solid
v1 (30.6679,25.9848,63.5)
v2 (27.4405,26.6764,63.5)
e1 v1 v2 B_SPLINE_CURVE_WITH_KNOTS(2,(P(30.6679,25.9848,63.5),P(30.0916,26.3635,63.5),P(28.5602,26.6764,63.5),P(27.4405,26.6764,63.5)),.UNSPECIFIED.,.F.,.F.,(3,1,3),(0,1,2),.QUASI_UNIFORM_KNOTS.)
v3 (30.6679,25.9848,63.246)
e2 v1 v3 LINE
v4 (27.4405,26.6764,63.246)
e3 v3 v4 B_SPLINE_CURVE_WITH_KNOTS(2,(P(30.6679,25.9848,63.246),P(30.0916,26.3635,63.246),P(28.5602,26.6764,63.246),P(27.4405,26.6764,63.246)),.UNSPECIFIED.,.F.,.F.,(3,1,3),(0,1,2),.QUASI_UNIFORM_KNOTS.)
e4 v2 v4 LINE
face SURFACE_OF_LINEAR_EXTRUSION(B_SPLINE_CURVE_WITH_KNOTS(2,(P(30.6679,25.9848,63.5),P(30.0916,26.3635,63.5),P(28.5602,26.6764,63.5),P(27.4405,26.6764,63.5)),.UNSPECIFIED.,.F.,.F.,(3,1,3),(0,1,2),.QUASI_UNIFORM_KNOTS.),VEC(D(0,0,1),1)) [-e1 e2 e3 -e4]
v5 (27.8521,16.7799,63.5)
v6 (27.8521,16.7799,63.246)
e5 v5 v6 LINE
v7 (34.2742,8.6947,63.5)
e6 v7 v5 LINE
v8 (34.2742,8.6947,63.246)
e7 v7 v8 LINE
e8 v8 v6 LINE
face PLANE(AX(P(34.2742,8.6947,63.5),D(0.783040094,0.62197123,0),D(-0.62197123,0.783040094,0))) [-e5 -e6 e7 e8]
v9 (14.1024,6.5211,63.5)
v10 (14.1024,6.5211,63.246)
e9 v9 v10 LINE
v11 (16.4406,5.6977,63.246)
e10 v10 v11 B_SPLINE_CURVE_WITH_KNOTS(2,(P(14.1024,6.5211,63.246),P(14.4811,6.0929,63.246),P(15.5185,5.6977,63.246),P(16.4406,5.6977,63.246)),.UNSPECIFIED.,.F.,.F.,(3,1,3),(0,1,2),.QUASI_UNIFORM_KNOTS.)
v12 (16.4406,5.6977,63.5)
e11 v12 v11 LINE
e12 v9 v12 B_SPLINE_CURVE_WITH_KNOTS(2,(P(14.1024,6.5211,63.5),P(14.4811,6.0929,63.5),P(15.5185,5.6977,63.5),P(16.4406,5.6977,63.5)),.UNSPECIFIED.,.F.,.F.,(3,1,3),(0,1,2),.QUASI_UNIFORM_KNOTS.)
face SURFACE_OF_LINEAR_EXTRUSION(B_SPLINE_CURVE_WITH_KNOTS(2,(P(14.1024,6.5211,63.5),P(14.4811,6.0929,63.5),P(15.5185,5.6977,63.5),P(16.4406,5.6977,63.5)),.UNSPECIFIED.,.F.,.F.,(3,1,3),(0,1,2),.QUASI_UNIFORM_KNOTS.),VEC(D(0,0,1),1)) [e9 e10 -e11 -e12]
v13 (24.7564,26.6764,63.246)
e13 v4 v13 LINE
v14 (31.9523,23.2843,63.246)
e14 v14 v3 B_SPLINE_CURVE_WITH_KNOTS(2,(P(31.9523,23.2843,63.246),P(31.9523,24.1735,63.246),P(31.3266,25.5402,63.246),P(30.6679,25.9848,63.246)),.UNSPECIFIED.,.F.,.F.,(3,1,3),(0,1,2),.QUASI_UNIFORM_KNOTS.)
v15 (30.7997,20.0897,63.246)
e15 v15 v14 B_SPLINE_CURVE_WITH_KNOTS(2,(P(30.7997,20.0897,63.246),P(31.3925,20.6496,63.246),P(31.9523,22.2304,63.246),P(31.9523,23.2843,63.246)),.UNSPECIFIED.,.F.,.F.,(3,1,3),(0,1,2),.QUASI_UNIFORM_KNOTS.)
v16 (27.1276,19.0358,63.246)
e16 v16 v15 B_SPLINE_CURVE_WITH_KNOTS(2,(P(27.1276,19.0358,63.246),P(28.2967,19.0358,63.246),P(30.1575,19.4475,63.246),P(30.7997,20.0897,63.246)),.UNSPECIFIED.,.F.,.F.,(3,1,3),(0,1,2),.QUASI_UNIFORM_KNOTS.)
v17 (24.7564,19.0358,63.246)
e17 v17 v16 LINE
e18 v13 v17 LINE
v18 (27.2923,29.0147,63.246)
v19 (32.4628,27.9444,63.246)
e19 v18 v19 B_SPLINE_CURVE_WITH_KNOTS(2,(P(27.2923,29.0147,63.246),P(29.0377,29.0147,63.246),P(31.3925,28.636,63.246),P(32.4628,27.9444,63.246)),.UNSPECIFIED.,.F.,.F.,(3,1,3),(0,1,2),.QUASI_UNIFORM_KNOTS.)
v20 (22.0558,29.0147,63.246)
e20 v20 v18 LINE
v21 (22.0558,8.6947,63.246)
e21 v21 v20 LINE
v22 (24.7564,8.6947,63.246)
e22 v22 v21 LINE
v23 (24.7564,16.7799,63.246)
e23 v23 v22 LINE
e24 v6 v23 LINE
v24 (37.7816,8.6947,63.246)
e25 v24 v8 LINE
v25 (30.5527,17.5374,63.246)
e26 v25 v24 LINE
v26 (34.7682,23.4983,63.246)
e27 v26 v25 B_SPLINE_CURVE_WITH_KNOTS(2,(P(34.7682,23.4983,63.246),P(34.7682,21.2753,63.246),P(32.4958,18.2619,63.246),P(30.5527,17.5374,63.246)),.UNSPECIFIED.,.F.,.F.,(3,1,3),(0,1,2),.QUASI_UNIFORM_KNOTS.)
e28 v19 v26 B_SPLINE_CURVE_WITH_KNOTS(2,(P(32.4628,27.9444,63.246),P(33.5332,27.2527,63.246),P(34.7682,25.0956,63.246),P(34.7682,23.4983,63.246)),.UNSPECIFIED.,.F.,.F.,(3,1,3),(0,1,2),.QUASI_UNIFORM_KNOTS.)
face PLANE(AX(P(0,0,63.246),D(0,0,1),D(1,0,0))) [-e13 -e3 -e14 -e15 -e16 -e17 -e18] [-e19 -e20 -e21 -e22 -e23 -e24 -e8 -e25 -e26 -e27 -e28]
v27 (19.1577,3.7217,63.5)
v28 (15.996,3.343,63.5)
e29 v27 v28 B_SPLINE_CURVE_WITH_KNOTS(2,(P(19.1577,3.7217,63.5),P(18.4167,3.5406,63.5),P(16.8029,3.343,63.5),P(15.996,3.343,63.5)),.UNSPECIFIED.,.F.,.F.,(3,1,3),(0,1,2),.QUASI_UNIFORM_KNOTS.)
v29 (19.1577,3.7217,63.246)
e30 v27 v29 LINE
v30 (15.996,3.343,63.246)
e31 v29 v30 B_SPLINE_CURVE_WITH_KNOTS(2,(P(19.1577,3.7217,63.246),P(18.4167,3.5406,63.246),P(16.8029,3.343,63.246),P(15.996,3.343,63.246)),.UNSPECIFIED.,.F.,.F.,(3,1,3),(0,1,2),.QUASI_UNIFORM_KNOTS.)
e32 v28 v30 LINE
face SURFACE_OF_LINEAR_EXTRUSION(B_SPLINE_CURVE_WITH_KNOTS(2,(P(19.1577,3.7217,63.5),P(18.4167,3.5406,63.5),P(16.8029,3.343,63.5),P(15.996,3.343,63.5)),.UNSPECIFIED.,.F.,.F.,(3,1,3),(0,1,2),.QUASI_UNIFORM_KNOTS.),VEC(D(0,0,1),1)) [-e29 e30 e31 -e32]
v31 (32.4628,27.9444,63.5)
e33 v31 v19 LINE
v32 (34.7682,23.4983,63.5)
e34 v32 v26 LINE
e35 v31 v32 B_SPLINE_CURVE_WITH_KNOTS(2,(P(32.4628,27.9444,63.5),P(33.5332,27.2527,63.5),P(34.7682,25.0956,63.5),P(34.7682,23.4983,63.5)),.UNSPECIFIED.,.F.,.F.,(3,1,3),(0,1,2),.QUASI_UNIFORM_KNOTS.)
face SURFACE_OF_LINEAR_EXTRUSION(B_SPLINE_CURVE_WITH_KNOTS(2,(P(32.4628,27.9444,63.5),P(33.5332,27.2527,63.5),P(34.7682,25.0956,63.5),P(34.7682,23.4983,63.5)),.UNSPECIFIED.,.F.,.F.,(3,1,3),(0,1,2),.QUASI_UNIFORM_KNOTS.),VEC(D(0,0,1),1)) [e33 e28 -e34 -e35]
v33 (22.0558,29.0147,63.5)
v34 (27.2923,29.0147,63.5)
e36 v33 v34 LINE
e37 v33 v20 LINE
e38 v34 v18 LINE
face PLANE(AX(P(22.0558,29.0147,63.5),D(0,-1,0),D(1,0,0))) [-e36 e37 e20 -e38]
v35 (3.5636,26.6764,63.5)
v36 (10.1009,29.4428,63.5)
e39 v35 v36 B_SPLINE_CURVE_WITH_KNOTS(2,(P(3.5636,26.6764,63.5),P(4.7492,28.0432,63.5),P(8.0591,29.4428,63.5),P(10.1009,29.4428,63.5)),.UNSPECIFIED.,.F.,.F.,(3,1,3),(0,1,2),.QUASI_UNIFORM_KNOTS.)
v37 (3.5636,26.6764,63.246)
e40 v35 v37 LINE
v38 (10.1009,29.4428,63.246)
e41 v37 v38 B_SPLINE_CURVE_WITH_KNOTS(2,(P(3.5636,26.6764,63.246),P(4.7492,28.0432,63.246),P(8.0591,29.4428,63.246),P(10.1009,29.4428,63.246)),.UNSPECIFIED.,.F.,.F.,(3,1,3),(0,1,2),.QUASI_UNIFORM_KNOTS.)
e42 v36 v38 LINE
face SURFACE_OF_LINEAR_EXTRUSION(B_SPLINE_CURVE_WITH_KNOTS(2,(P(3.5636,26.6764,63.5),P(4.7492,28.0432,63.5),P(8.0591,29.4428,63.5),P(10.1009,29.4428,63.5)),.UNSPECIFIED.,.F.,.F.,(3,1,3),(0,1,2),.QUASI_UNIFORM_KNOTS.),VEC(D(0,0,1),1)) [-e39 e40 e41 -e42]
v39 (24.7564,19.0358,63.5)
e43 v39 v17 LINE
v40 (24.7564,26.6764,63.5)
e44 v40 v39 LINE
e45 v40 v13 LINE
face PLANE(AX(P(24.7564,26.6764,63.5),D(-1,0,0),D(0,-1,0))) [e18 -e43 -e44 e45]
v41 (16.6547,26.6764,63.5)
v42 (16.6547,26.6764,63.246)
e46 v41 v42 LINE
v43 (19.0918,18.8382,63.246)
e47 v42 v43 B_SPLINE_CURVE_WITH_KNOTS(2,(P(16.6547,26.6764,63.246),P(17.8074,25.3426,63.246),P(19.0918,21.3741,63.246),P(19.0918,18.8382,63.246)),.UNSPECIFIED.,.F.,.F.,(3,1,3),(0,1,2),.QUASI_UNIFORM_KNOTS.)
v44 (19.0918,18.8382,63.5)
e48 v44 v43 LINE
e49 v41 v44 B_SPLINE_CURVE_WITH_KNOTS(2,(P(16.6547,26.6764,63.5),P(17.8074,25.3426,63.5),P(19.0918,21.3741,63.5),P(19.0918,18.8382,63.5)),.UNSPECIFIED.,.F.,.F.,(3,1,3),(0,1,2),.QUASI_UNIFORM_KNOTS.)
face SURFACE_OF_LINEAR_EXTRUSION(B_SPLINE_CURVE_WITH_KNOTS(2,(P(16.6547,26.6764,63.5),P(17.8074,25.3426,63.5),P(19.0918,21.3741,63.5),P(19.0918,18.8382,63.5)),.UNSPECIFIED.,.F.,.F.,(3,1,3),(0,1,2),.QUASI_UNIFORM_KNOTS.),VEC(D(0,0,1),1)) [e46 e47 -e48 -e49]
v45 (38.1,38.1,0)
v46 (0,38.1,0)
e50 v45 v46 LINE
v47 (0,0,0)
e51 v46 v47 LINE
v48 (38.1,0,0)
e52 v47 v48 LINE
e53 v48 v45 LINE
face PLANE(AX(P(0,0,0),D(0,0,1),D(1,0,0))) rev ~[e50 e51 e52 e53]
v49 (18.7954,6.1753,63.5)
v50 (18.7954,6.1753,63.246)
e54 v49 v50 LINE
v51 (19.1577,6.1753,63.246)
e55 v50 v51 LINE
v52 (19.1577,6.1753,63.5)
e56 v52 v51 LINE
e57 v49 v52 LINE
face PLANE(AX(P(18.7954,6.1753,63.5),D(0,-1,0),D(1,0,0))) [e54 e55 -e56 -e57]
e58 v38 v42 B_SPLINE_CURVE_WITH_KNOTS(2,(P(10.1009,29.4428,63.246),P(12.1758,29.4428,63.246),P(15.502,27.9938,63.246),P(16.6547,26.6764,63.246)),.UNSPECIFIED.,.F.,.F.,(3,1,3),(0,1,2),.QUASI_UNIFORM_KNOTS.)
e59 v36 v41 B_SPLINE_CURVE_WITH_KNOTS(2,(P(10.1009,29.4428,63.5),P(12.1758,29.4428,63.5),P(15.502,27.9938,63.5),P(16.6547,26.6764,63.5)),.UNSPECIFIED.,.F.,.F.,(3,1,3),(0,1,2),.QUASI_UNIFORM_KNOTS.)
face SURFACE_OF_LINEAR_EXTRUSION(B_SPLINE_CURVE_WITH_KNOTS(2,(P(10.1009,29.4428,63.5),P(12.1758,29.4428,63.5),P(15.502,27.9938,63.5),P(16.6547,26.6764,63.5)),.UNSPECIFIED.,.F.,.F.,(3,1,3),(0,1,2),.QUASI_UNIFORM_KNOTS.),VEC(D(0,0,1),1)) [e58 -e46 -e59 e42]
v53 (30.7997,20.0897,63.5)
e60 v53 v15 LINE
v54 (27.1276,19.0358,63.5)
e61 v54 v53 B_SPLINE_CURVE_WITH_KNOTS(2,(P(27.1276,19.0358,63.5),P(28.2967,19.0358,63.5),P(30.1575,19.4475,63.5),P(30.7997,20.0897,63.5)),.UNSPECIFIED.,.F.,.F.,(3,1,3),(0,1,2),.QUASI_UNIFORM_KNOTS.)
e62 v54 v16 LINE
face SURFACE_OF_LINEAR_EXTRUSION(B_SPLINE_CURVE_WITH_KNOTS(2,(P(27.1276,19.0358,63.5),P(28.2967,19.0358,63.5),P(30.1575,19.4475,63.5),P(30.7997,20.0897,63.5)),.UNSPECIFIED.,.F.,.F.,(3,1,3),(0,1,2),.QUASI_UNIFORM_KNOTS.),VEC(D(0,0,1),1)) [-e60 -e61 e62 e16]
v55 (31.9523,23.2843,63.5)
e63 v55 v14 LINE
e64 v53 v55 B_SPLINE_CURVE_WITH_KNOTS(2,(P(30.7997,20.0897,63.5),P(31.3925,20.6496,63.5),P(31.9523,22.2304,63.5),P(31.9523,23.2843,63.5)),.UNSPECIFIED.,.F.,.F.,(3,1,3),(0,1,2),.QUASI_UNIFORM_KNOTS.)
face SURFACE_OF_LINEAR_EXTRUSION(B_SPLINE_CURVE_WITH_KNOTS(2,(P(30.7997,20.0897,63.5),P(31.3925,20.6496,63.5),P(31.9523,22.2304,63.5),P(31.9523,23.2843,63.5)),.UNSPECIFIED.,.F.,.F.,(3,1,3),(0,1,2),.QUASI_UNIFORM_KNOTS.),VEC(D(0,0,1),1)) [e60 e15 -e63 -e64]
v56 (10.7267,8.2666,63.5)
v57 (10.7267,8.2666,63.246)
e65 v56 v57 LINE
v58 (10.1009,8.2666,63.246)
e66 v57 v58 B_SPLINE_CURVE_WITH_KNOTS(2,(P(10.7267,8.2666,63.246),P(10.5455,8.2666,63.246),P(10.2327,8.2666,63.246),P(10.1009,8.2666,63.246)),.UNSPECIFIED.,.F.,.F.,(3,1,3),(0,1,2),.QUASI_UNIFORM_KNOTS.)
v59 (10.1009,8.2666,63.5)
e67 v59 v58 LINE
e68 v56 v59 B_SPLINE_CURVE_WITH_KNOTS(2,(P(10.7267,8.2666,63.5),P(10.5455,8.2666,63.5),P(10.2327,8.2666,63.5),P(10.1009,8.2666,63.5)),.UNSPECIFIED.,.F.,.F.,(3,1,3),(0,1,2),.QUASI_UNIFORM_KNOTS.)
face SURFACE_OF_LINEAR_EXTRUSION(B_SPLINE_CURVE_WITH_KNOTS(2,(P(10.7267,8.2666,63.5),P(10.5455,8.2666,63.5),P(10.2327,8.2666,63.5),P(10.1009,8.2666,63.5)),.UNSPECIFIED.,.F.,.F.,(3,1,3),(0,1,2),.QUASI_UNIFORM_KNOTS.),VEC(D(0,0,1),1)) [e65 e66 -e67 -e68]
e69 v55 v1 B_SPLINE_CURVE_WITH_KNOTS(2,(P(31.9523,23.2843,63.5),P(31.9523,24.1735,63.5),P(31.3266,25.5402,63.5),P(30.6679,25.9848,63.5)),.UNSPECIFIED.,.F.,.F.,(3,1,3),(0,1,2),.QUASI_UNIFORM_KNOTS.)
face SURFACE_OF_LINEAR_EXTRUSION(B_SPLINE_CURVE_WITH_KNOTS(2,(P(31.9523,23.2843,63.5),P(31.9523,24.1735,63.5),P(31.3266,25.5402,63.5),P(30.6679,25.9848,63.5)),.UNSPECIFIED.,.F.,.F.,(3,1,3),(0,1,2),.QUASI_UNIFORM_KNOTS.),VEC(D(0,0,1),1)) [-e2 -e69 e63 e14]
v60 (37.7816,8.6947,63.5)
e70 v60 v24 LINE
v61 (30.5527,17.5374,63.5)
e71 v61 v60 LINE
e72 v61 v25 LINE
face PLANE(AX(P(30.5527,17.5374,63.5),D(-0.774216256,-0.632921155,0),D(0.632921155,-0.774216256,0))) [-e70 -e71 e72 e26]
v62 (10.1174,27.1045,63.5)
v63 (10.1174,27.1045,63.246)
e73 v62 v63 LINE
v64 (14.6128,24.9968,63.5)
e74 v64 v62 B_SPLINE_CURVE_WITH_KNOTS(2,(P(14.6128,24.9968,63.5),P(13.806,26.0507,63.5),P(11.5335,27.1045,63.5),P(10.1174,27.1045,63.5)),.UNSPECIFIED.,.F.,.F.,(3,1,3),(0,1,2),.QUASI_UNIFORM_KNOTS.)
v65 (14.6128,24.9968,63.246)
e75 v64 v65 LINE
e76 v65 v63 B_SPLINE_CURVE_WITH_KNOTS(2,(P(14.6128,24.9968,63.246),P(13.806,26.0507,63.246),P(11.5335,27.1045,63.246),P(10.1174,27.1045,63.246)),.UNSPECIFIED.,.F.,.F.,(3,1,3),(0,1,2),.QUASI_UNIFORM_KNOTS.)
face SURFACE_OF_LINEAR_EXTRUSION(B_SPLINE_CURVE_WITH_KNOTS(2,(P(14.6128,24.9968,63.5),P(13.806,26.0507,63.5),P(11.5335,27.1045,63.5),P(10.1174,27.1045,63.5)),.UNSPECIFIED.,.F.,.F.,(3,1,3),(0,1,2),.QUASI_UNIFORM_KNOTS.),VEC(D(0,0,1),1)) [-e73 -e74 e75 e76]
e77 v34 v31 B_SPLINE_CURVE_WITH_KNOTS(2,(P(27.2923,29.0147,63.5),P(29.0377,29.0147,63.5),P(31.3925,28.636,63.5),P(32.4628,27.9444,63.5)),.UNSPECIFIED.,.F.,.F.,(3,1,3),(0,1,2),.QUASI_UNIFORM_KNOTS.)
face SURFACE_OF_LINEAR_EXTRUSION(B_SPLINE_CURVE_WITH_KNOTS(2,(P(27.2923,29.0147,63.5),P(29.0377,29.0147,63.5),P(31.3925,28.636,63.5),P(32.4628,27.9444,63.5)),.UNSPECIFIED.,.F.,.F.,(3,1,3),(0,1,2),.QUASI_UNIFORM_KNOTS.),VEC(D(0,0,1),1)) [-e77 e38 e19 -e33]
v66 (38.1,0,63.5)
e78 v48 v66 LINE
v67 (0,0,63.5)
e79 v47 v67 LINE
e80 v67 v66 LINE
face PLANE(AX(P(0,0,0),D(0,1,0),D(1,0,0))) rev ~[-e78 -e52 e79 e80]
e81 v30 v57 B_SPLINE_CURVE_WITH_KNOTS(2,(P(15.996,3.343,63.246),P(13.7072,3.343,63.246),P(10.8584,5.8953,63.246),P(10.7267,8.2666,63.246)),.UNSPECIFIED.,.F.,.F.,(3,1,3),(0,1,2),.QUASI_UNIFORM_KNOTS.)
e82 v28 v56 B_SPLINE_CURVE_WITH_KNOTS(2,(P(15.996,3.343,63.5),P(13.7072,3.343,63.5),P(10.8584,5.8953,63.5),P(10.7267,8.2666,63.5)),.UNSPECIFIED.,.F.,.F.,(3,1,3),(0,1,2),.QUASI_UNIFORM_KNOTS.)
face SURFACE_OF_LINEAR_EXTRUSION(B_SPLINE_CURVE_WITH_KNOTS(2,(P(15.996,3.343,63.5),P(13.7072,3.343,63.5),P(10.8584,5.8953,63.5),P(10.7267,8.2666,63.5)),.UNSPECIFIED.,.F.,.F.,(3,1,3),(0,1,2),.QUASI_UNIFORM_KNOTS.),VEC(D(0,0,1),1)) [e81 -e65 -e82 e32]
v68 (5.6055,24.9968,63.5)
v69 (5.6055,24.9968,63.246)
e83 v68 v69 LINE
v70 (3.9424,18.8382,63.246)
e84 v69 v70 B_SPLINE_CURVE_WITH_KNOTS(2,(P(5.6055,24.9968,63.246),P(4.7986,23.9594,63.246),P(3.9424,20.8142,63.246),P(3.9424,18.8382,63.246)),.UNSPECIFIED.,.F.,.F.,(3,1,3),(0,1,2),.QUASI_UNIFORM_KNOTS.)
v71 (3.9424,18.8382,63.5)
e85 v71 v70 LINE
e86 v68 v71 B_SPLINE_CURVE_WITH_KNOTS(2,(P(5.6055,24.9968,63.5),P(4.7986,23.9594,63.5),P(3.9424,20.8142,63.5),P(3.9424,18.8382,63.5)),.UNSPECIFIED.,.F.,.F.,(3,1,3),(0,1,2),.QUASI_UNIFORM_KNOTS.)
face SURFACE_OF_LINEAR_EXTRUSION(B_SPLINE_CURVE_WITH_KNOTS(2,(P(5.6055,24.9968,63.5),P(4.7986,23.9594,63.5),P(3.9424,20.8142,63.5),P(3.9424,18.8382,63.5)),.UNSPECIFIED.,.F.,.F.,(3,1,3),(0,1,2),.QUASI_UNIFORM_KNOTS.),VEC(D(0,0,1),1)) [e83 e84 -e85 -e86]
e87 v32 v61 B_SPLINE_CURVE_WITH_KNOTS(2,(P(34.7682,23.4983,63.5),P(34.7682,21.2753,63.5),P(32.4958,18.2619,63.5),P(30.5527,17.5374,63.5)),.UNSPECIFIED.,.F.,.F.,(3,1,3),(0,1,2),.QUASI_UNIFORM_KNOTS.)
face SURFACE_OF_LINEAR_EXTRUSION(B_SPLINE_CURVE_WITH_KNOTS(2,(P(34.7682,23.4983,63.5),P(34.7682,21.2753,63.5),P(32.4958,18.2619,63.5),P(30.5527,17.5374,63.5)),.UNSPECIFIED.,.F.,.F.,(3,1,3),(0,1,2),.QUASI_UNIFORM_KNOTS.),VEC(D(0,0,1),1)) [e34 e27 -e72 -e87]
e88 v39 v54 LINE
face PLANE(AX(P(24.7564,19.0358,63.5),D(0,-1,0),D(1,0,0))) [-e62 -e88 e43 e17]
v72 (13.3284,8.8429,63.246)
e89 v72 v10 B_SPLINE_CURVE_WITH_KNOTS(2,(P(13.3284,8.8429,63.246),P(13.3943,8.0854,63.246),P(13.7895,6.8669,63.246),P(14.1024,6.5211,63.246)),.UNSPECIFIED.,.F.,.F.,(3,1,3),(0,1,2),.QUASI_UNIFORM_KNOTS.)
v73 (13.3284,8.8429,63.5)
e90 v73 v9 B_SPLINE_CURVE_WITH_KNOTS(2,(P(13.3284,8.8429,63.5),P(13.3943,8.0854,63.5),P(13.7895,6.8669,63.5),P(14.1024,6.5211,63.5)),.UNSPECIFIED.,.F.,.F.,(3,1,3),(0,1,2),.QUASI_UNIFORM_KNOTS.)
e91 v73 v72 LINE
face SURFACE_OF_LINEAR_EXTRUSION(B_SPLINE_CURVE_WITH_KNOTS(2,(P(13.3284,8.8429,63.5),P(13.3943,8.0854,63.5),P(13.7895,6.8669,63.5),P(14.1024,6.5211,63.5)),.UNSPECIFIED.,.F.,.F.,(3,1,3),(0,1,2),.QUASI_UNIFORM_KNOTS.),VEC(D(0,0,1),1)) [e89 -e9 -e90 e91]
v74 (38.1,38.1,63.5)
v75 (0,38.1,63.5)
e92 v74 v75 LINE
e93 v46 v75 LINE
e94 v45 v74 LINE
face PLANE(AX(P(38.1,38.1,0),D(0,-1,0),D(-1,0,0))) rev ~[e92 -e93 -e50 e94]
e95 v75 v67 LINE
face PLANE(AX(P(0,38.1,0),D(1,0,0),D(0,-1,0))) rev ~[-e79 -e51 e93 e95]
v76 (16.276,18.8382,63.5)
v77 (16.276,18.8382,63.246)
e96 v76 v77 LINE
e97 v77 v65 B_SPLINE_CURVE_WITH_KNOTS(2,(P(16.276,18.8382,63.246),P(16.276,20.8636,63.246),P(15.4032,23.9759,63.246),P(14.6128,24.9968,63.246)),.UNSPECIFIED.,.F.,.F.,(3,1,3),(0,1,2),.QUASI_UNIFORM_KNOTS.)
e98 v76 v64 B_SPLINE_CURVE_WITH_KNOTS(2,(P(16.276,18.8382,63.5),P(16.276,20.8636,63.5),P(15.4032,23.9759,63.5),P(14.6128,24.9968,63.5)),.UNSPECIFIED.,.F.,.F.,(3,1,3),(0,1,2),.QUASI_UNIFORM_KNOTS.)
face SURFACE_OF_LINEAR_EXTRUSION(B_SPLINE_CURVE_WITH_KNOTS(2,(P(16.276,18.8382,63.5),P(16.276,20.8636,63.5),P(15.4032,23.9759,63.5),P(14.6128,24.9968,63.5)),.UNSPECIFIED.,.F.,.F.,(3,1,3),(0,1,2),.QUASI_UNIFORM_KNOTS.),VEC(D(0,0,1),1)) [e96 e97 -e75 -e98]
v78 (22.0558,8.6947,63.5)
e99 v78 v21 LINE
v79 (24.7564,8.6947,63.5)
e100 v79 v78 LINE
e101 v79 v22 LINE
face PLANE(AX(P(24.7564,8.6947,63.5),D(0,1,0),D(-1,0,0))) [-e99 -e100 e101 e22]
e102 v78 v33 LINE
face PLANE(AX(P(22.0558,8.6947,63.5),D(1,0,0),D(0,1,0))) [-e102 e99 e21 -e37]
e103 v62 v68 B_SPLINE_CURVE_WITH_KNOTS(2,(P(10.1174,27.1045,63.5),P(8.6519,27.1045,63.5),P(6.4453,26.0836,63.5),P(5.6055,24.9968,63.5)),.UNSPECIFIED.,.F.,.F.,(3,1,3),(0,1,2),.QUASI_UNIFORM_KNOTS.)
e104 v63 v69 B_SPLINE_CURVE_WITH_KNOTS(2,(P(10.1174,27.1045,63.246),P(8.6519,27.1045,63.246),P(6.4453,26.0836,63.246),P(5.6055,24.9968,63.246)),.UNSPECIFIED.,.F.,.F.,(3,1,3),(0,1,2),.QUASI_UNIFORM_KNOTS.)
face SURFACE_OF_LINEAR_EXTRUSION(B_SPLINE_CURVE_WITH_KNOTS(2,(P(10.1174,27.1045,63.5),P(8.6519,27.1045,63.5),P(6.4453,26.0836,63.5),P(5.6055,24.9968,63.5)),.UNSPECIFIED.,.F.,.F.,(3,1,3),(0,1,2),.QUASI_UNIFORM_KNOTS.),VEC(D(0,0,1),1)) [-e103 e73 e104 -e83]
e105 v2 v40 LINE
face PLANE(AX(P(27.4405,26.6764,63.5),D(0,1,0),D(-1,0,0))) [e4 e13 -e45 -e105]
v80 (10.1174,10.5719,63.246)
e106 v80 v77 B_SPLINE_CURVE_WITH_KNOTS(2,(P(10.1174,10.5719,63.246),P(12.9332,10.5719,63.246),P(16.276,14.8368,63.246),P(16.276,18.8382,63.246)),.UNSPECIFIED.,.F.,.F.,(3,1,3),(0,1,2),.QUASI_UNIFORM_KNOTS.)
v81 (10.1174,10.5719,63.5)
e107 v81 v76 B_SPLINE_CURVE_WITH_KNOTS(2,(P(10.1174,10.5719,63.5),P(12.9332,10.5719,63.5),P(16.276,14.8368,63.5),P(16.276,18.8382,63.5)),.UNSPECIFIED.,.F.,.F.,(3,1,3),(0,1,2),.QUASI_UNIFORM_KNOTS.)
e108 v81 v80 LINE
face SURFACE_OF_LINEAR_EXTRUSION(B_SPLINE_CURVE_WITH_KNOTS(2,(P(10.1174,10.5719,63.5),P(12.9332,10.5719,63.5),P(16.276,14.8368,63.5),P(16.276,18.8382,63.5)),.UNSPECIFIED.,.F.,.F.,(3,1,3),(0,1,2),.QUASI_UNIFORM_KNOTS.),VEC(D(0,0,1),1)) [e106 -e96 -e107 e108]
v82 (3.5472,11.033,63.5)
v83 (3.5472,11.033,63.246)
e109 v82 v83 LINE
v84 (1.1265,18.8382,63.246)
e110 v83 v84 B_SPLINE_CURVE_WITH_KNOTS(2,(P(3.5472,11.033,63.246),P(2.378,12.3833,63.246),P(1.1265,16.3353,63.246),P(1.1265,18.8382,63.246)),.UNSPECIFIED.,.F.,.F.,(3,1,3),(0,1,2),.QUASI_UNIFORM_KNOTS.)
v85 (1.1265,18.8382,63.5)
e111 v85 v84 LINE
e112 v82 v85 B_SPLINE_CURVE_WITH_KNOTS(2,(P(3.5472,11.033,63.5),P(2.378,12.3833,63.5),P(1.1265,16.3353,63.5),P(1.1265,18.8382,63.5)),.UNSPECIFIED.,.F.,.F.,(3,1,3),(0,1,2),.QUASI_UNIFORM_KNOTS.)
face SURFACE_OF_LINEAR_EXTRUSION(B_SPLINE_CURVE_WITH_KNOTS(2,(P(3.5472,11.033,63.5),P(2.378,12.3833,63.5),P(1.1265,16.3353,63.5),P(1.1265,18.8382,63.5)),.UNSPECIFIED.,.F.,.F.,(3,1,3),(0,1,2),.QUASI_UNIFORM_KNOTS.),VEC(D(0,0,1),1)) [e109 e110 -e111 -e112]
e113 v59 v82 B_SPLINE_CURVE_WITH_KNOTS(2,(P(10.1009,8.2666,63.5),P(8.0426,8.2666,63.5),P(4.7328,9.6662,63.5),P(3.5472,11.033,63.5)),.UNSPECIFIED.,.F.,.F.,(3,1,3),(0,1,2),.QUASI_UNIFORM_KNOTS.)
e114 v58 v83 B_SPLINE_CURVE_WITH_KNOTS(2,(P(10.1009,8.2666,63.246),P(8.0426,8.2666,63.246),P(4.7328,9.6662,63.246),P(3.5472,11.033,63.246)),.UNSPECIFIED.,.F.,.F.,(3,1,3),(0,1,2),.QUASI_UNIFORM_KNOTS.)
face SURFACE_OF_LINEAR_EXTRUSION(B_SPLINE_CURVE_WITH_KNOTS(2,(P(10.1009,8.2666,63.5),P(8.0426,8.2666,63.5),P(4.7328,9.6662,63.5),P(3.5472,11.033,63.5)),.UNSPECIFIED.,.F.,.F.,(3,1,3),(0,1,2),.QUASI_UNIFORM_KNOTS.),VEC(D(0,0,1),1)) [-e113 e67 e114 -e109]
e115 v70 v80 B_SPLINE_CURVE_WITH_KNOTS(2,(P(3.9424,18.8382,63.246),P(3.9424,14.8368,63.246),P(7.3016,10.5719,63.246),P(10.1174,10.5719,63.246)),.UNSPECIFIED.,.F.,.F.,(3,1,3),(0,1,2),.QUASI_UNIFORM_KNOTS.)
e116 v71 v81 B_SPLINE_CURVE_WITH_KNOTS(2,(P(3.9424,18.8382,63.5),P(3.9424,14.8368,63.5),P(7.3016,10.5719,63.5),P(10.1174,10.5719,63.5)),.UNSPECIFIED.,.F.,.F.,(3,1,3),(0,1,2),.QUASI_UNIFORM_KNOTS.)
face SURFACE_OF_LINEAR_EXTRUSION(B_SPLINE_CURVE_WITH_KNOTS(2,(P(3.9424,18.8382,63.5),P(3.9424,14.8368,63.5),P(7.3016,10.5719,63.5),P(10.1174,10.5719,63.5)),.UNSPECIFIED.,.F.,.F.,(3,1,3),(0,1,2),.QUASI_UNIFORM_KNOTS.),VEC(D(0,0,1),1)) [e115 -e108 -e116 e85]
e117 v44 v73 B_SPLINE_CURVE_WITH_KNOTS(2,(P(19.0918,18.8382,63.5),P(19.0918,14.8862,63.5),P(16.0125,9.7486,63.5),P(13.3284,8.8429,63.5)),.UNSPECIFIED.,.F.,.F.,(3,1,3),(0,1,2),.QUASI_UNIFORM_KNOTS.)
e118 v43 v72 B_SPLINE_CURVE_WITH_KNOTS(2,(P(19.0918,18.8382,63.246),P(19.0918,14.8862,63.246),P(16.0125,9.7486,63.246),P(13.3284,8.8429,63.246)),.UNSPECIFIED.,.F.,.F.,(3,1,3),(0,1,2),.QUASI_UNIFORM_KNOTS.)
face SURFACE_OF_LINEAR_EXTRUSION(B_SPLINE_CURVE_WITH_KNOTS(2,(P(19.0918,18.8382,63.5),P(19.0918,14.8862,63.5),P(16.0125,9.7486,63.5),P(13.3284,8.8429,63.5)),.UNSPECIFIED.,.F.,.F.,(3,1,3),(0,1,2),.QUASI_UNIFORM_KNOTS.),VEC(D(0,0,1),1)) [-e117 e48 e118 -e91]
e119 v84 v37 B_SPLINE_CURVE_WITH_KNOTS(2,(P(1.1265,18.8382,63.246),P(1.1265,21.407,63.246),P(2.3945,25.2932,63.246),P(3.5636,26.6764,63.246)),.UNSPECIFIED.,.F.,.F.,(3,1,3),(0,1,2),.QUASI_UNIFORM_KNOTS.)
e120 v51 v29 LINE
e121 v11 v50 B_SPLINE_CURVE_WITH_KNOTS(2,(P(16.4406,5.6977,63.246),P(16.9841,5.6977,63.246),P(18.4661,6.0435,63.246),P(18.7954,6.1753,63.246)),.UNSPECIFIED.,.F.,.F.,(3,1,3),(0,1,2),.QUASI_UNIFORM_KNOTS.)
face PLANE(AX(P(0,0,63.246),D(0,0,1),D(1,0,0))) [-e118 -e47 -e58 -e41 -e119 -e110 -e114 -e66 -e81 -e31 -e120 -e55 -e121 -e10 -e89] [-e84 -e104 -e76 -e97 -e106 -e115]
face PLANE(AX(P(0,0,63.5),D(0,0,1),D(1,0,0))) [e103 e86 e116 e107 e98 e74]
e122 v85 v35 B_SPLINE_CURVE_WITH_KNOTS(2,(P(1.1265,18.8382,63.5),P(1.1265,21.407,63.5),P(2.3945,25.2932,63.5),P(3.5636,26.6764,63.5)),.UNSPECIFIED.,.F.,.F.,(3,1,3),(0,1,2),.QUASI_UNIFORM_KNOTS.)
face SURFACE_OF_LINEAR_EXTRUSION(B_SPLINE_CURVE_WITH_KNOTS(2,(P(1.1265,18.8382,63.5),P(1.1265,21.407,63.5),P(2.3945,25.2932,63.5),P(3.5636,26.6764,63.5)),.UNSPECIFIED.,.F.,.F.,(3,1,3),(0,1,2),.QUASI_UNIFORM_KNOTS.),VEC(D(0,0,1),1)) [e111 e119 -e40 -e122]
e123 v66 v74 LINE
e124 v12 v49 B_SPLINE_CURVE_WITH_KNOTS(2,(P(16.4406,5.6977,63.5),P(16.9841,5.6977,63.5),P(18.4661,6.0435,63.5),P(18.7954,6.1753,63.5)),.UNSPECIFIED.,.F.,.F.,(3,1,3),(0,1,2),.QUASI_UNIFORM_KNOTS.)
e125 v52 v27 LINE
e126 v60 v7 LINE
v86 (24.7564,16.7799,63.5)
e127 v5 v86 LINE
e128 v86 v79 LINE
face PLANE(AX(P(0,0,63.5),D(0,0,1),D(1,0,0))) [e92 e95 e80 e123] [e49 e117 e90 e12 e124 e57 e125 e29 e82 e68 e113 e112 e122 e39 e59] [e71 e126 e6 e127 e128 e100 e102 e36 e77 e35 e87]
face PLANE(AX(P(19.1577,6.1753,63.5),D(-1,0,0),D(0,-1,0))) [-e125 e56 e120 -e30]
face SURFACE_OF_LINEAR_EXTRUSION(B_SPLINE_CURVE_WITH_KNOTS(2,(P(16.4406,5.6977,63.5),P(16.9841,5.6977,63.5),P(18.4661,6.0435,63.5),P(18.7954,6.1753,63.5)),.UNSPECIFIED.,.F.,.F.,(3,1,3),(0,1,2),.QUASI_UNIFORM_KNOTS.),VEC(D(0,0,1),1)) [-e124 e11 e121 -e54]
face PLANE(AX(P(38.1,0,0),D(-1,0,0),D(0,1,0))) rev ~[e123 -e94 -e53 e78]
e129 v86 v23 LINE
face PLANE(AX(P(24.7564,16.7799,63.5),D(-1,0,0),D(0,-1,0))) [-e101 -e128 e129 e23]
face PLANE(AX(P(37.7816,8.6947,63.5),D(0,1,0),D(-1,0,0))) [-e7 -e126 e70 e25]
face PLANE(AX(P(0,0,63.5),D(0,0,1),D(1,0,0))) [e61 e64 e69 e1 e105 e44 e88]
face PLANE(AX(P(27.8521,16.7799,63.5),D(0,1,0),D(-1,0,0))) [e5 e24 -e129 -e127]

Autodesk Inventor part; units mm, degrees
ref_plane "YZ Plane" through (0, 0, 0) normal (1, 0, 0) x (0, 1, 0)
ref_plane "XZ Plane" through (0, 0, 0) normal (0, 1, 0) x (-1, 0, 0)
ref_plane "XY Plane" through (0, 0, 0) normal (0, 0, 1) x (1, 0, 0)
sketch "Sketch1" plane through (0, 0, 0) normal (0, 0, 1) x (1, 0, 0)
  line L0 (0, 0) -> (38.1, 0)
  line L1 (38.1, 0) -> (38.1, 38.1)
  line L2 (38.1, 38.1) -> (0, 38.1)
  line L3 (0, 38.1) -> (0, 0)
  dimension "d0" = 38.1
  dimension "d1" = 38.1
extrude "Extrusion1" add sketch "Sketch1" along normal blind 63.5
sketch "Sketch2" plane through (0, 0, 63.5) normal (0, 0, 1) x (1, 0, 0)
  line L0 (0.2209, 29.4428) -> (23.4184, 29.4428) construction
  line L1 (23.4184, 29.4428) -> (23.4184, 13.1304) construction
  line L2 (23.4184, 13.1304) -> (0.2209, 13.1304) construction
  line L3 (0.2209, 13.1304) -> (0.2209, 29.4428) construction
  spline S0 degree 2 poles (19.1577, 3.7217) (18.4167, 3.5406) (16.8029, 3.343) (15.996, 3.343) knots 0 0 0 1 2 2 2
  spline S1 degree 2 poles (15.996, 3.343) (13.7072, 3.343) (10.8584, 5.8953) (10.7267, 8.2666) knots 0 0 0 1 2 2 2
  spline S2 degree 2 poles (10.7267, 8.2666) (10.5455, 8.2666) (10.2327, 8.2666) (10.1009, 8.2666) knots 0 0 0 1 2 2 2
  spline S3 degree 2 poles (10.1009, 8.2666) (8.0426, 8.2666) (4.7328, 9.6662) (3.5472, 11.033) knots 0 0 0 1 2 2 2
  spline S4 degree 2 poles (3.5472, 11.033) (2.378, 12.3833) (1.1265, 16.3353) (1.1265, 18.8382) knots 0 0 0 1 2 2 2
  spline S5 degree 2 poles (1.1265, 18.8382) (1.1265, 21.407) (2.3945, 25.2932) (3.5636, 26.6764) knots 0 0 0 1 2 2 2
  spline S6 degree 2 poles (3.5636, 26.6764) (4.7492, 28.0432) (8.0591, 29.4428) (10.1009, 29.4428) knots 0 0 0 1 2 2 2
  spline S7 degree 2 poles (10.1009, 29.4428) (12.1758, 29.4428) (15.502, 27.9938) (16.6547, 26.6764) knots 0 0 0 1 2 2 2
  spline S8 degree 2 poles (16.6547, 26.6764) (17.8074, 25.3426) (19.0918, 21.3741) (19.0918, 18.8382) knots 0 0 0 1 2 2 2
  spline S9 degree 2 poles (19.0918, 18.8382) (19.0918, 14.8862) (16.0125, 9.7486) (13.3284, 8.8429) knots 0 0 0 1 2 2 2
  spline S10 degree 2 poles (13.3284, 8.8429) (13.3943, 8.0854) (13.7895, 6.8669) (14.1024, 6.5211) knots 0 0 0 1 2 2 2
  spline S11 degree 2 poles (14.1024, 6.5211) (14.4811, 6.0929) (15.5185, 5.6977) (16.4406, 5.6977) knots 0 0 0 1 2 2 2
  spline S12 degree 2 poles (16.4406, 5.6977) (16.9841, 5.6977) (18.4661, 6.0435) (18.7954, 6.1753) knots 0 0 0 1 2 2 2
  line L4 (18.7954, 6.1753) -> (19.1577, 6.1753)
  line L5 (19.1577, 6.1753) -> (19.1577, 3.7217)
  spline S13 degree 2 poles (16.276, 18.8382) (16.276, 20.8636) (15.4032, 23.9759) (14.6128, 24.9968) knots 0 0 0 1 2 2 2
  spline S14 degree 2 poles (14.6128, 24.9968) (13.806, 26.0507) (11.5335, 27.1045) (10.1174, 27.1045) knots 0 0 0 1 2 2 2
  spline S15 degree 2 poles (10.1174, 27.1045) (8.6519, 27.1045) (6.4453, 26.0836) (5.6055, 24.9968) knots 0 0 0 1 2 2 2
  spline S16 degree 2 poles (5.6055, 24.9968) (4.7986, 23.9594) (3.9424, 20.8142) (3.9424, 18.8382) knots 0 0 0 1 2 2 2
  spline S17 degree 2 poles (3.9424, 18.8382) (3.9424, 14.8368) (7.3016, 10.5719) (10.1174, 10.5719) knots 0 0 0 1 2 2 2
  spline S18 degree 2 poles (10.1174, 10.5719) (12.9332, 10.5719) (16.276, 14.8368) (16.276, 18.8382) knots 0 0 0 1 2 2 2
  line L6 (37.7816, 8.6947) -> (34.2742, 8.6947)
  line L7 (34.2742, 8.6947) -> (27.8521, 16.7799)
  line L8 (27.8521, 16.7799) -> (24.7564, 16.7799)
  line L9 (24.7564, 16.7799) -> (24.7564, 8.6947)
  line L10 (24.7564, 8.6947) -> (22.0558, 8.6947)
  line L11 (22.0558, 8.6947) -> (22.0558, 29.0147)
  line L12 (22.0558, 29.0147) -> (27.2923, 29.0147)
  spline S19 degree 2 poles (27.2923, 29.0147) (29.0377, 29.0147) (31.3925, 28.636) (32.4628, 27.9444) knots 0 0 0 1 2 2 2
  spline S20 degree 2 poles (32.4628, 27.9444) (33.5332, 27.2527) (34.7682, 25.0956) (34.7682, 23.4983) knots 0 0 0 1 2 2 2
  spline S21 degree 2 poles (34.7682, 23.4983) (34.7682, 21.2753) (32.4958, 18.2619) (30.5527, 17.5374) knots 0 0 0 1 2 2 2
  line L13 (30.5527, 17.5374) -> (37.7816, 8.6947)
  spline S22 degree 2 poles (31.9523, 23.2843) (31.9523, 24.1735) (31.3266, 25.5402) (30.6679, 25.9848) knots 0 0 0 1 2 2 2
  spline S23 degree 2 poles (30.6679, 25.9848) (30.0916, 26.3635) (28.5602, 26.6764) (27.4405, 26.6764) knots 0 0 0 1 2 2 2
  line L14 (27.4405, 26.6764) -> (24.7564, 26.6764)
  line L15 (24.7564, 26.6764) -> (24.7564, 19.0358)
  line L16 (24.7564, 19.0358) -> (27.1276, 19.0358)
  spline S24 degree 2 poles (27.1276, 19.0358) (28.2967, 19.0358) (30.1575, 19.4475) (30.7997, 20.0897) knots 0 0 0 1 2 2 2
  spline S25 degree 2 poles (30.7997, 20.0897) (31.3925, 20.6496) (31.9523, 22.2304) (31.9523, 23.2843) knots 0 0 0 1 2 2 2
  point P0 (0, 0)
extrude "Extrusion2" cut sketch "Sketch2" against normal blind 0.254
equation "\"d1\" = d0"
properties part number "Container 2 2 2 and half color 4"
